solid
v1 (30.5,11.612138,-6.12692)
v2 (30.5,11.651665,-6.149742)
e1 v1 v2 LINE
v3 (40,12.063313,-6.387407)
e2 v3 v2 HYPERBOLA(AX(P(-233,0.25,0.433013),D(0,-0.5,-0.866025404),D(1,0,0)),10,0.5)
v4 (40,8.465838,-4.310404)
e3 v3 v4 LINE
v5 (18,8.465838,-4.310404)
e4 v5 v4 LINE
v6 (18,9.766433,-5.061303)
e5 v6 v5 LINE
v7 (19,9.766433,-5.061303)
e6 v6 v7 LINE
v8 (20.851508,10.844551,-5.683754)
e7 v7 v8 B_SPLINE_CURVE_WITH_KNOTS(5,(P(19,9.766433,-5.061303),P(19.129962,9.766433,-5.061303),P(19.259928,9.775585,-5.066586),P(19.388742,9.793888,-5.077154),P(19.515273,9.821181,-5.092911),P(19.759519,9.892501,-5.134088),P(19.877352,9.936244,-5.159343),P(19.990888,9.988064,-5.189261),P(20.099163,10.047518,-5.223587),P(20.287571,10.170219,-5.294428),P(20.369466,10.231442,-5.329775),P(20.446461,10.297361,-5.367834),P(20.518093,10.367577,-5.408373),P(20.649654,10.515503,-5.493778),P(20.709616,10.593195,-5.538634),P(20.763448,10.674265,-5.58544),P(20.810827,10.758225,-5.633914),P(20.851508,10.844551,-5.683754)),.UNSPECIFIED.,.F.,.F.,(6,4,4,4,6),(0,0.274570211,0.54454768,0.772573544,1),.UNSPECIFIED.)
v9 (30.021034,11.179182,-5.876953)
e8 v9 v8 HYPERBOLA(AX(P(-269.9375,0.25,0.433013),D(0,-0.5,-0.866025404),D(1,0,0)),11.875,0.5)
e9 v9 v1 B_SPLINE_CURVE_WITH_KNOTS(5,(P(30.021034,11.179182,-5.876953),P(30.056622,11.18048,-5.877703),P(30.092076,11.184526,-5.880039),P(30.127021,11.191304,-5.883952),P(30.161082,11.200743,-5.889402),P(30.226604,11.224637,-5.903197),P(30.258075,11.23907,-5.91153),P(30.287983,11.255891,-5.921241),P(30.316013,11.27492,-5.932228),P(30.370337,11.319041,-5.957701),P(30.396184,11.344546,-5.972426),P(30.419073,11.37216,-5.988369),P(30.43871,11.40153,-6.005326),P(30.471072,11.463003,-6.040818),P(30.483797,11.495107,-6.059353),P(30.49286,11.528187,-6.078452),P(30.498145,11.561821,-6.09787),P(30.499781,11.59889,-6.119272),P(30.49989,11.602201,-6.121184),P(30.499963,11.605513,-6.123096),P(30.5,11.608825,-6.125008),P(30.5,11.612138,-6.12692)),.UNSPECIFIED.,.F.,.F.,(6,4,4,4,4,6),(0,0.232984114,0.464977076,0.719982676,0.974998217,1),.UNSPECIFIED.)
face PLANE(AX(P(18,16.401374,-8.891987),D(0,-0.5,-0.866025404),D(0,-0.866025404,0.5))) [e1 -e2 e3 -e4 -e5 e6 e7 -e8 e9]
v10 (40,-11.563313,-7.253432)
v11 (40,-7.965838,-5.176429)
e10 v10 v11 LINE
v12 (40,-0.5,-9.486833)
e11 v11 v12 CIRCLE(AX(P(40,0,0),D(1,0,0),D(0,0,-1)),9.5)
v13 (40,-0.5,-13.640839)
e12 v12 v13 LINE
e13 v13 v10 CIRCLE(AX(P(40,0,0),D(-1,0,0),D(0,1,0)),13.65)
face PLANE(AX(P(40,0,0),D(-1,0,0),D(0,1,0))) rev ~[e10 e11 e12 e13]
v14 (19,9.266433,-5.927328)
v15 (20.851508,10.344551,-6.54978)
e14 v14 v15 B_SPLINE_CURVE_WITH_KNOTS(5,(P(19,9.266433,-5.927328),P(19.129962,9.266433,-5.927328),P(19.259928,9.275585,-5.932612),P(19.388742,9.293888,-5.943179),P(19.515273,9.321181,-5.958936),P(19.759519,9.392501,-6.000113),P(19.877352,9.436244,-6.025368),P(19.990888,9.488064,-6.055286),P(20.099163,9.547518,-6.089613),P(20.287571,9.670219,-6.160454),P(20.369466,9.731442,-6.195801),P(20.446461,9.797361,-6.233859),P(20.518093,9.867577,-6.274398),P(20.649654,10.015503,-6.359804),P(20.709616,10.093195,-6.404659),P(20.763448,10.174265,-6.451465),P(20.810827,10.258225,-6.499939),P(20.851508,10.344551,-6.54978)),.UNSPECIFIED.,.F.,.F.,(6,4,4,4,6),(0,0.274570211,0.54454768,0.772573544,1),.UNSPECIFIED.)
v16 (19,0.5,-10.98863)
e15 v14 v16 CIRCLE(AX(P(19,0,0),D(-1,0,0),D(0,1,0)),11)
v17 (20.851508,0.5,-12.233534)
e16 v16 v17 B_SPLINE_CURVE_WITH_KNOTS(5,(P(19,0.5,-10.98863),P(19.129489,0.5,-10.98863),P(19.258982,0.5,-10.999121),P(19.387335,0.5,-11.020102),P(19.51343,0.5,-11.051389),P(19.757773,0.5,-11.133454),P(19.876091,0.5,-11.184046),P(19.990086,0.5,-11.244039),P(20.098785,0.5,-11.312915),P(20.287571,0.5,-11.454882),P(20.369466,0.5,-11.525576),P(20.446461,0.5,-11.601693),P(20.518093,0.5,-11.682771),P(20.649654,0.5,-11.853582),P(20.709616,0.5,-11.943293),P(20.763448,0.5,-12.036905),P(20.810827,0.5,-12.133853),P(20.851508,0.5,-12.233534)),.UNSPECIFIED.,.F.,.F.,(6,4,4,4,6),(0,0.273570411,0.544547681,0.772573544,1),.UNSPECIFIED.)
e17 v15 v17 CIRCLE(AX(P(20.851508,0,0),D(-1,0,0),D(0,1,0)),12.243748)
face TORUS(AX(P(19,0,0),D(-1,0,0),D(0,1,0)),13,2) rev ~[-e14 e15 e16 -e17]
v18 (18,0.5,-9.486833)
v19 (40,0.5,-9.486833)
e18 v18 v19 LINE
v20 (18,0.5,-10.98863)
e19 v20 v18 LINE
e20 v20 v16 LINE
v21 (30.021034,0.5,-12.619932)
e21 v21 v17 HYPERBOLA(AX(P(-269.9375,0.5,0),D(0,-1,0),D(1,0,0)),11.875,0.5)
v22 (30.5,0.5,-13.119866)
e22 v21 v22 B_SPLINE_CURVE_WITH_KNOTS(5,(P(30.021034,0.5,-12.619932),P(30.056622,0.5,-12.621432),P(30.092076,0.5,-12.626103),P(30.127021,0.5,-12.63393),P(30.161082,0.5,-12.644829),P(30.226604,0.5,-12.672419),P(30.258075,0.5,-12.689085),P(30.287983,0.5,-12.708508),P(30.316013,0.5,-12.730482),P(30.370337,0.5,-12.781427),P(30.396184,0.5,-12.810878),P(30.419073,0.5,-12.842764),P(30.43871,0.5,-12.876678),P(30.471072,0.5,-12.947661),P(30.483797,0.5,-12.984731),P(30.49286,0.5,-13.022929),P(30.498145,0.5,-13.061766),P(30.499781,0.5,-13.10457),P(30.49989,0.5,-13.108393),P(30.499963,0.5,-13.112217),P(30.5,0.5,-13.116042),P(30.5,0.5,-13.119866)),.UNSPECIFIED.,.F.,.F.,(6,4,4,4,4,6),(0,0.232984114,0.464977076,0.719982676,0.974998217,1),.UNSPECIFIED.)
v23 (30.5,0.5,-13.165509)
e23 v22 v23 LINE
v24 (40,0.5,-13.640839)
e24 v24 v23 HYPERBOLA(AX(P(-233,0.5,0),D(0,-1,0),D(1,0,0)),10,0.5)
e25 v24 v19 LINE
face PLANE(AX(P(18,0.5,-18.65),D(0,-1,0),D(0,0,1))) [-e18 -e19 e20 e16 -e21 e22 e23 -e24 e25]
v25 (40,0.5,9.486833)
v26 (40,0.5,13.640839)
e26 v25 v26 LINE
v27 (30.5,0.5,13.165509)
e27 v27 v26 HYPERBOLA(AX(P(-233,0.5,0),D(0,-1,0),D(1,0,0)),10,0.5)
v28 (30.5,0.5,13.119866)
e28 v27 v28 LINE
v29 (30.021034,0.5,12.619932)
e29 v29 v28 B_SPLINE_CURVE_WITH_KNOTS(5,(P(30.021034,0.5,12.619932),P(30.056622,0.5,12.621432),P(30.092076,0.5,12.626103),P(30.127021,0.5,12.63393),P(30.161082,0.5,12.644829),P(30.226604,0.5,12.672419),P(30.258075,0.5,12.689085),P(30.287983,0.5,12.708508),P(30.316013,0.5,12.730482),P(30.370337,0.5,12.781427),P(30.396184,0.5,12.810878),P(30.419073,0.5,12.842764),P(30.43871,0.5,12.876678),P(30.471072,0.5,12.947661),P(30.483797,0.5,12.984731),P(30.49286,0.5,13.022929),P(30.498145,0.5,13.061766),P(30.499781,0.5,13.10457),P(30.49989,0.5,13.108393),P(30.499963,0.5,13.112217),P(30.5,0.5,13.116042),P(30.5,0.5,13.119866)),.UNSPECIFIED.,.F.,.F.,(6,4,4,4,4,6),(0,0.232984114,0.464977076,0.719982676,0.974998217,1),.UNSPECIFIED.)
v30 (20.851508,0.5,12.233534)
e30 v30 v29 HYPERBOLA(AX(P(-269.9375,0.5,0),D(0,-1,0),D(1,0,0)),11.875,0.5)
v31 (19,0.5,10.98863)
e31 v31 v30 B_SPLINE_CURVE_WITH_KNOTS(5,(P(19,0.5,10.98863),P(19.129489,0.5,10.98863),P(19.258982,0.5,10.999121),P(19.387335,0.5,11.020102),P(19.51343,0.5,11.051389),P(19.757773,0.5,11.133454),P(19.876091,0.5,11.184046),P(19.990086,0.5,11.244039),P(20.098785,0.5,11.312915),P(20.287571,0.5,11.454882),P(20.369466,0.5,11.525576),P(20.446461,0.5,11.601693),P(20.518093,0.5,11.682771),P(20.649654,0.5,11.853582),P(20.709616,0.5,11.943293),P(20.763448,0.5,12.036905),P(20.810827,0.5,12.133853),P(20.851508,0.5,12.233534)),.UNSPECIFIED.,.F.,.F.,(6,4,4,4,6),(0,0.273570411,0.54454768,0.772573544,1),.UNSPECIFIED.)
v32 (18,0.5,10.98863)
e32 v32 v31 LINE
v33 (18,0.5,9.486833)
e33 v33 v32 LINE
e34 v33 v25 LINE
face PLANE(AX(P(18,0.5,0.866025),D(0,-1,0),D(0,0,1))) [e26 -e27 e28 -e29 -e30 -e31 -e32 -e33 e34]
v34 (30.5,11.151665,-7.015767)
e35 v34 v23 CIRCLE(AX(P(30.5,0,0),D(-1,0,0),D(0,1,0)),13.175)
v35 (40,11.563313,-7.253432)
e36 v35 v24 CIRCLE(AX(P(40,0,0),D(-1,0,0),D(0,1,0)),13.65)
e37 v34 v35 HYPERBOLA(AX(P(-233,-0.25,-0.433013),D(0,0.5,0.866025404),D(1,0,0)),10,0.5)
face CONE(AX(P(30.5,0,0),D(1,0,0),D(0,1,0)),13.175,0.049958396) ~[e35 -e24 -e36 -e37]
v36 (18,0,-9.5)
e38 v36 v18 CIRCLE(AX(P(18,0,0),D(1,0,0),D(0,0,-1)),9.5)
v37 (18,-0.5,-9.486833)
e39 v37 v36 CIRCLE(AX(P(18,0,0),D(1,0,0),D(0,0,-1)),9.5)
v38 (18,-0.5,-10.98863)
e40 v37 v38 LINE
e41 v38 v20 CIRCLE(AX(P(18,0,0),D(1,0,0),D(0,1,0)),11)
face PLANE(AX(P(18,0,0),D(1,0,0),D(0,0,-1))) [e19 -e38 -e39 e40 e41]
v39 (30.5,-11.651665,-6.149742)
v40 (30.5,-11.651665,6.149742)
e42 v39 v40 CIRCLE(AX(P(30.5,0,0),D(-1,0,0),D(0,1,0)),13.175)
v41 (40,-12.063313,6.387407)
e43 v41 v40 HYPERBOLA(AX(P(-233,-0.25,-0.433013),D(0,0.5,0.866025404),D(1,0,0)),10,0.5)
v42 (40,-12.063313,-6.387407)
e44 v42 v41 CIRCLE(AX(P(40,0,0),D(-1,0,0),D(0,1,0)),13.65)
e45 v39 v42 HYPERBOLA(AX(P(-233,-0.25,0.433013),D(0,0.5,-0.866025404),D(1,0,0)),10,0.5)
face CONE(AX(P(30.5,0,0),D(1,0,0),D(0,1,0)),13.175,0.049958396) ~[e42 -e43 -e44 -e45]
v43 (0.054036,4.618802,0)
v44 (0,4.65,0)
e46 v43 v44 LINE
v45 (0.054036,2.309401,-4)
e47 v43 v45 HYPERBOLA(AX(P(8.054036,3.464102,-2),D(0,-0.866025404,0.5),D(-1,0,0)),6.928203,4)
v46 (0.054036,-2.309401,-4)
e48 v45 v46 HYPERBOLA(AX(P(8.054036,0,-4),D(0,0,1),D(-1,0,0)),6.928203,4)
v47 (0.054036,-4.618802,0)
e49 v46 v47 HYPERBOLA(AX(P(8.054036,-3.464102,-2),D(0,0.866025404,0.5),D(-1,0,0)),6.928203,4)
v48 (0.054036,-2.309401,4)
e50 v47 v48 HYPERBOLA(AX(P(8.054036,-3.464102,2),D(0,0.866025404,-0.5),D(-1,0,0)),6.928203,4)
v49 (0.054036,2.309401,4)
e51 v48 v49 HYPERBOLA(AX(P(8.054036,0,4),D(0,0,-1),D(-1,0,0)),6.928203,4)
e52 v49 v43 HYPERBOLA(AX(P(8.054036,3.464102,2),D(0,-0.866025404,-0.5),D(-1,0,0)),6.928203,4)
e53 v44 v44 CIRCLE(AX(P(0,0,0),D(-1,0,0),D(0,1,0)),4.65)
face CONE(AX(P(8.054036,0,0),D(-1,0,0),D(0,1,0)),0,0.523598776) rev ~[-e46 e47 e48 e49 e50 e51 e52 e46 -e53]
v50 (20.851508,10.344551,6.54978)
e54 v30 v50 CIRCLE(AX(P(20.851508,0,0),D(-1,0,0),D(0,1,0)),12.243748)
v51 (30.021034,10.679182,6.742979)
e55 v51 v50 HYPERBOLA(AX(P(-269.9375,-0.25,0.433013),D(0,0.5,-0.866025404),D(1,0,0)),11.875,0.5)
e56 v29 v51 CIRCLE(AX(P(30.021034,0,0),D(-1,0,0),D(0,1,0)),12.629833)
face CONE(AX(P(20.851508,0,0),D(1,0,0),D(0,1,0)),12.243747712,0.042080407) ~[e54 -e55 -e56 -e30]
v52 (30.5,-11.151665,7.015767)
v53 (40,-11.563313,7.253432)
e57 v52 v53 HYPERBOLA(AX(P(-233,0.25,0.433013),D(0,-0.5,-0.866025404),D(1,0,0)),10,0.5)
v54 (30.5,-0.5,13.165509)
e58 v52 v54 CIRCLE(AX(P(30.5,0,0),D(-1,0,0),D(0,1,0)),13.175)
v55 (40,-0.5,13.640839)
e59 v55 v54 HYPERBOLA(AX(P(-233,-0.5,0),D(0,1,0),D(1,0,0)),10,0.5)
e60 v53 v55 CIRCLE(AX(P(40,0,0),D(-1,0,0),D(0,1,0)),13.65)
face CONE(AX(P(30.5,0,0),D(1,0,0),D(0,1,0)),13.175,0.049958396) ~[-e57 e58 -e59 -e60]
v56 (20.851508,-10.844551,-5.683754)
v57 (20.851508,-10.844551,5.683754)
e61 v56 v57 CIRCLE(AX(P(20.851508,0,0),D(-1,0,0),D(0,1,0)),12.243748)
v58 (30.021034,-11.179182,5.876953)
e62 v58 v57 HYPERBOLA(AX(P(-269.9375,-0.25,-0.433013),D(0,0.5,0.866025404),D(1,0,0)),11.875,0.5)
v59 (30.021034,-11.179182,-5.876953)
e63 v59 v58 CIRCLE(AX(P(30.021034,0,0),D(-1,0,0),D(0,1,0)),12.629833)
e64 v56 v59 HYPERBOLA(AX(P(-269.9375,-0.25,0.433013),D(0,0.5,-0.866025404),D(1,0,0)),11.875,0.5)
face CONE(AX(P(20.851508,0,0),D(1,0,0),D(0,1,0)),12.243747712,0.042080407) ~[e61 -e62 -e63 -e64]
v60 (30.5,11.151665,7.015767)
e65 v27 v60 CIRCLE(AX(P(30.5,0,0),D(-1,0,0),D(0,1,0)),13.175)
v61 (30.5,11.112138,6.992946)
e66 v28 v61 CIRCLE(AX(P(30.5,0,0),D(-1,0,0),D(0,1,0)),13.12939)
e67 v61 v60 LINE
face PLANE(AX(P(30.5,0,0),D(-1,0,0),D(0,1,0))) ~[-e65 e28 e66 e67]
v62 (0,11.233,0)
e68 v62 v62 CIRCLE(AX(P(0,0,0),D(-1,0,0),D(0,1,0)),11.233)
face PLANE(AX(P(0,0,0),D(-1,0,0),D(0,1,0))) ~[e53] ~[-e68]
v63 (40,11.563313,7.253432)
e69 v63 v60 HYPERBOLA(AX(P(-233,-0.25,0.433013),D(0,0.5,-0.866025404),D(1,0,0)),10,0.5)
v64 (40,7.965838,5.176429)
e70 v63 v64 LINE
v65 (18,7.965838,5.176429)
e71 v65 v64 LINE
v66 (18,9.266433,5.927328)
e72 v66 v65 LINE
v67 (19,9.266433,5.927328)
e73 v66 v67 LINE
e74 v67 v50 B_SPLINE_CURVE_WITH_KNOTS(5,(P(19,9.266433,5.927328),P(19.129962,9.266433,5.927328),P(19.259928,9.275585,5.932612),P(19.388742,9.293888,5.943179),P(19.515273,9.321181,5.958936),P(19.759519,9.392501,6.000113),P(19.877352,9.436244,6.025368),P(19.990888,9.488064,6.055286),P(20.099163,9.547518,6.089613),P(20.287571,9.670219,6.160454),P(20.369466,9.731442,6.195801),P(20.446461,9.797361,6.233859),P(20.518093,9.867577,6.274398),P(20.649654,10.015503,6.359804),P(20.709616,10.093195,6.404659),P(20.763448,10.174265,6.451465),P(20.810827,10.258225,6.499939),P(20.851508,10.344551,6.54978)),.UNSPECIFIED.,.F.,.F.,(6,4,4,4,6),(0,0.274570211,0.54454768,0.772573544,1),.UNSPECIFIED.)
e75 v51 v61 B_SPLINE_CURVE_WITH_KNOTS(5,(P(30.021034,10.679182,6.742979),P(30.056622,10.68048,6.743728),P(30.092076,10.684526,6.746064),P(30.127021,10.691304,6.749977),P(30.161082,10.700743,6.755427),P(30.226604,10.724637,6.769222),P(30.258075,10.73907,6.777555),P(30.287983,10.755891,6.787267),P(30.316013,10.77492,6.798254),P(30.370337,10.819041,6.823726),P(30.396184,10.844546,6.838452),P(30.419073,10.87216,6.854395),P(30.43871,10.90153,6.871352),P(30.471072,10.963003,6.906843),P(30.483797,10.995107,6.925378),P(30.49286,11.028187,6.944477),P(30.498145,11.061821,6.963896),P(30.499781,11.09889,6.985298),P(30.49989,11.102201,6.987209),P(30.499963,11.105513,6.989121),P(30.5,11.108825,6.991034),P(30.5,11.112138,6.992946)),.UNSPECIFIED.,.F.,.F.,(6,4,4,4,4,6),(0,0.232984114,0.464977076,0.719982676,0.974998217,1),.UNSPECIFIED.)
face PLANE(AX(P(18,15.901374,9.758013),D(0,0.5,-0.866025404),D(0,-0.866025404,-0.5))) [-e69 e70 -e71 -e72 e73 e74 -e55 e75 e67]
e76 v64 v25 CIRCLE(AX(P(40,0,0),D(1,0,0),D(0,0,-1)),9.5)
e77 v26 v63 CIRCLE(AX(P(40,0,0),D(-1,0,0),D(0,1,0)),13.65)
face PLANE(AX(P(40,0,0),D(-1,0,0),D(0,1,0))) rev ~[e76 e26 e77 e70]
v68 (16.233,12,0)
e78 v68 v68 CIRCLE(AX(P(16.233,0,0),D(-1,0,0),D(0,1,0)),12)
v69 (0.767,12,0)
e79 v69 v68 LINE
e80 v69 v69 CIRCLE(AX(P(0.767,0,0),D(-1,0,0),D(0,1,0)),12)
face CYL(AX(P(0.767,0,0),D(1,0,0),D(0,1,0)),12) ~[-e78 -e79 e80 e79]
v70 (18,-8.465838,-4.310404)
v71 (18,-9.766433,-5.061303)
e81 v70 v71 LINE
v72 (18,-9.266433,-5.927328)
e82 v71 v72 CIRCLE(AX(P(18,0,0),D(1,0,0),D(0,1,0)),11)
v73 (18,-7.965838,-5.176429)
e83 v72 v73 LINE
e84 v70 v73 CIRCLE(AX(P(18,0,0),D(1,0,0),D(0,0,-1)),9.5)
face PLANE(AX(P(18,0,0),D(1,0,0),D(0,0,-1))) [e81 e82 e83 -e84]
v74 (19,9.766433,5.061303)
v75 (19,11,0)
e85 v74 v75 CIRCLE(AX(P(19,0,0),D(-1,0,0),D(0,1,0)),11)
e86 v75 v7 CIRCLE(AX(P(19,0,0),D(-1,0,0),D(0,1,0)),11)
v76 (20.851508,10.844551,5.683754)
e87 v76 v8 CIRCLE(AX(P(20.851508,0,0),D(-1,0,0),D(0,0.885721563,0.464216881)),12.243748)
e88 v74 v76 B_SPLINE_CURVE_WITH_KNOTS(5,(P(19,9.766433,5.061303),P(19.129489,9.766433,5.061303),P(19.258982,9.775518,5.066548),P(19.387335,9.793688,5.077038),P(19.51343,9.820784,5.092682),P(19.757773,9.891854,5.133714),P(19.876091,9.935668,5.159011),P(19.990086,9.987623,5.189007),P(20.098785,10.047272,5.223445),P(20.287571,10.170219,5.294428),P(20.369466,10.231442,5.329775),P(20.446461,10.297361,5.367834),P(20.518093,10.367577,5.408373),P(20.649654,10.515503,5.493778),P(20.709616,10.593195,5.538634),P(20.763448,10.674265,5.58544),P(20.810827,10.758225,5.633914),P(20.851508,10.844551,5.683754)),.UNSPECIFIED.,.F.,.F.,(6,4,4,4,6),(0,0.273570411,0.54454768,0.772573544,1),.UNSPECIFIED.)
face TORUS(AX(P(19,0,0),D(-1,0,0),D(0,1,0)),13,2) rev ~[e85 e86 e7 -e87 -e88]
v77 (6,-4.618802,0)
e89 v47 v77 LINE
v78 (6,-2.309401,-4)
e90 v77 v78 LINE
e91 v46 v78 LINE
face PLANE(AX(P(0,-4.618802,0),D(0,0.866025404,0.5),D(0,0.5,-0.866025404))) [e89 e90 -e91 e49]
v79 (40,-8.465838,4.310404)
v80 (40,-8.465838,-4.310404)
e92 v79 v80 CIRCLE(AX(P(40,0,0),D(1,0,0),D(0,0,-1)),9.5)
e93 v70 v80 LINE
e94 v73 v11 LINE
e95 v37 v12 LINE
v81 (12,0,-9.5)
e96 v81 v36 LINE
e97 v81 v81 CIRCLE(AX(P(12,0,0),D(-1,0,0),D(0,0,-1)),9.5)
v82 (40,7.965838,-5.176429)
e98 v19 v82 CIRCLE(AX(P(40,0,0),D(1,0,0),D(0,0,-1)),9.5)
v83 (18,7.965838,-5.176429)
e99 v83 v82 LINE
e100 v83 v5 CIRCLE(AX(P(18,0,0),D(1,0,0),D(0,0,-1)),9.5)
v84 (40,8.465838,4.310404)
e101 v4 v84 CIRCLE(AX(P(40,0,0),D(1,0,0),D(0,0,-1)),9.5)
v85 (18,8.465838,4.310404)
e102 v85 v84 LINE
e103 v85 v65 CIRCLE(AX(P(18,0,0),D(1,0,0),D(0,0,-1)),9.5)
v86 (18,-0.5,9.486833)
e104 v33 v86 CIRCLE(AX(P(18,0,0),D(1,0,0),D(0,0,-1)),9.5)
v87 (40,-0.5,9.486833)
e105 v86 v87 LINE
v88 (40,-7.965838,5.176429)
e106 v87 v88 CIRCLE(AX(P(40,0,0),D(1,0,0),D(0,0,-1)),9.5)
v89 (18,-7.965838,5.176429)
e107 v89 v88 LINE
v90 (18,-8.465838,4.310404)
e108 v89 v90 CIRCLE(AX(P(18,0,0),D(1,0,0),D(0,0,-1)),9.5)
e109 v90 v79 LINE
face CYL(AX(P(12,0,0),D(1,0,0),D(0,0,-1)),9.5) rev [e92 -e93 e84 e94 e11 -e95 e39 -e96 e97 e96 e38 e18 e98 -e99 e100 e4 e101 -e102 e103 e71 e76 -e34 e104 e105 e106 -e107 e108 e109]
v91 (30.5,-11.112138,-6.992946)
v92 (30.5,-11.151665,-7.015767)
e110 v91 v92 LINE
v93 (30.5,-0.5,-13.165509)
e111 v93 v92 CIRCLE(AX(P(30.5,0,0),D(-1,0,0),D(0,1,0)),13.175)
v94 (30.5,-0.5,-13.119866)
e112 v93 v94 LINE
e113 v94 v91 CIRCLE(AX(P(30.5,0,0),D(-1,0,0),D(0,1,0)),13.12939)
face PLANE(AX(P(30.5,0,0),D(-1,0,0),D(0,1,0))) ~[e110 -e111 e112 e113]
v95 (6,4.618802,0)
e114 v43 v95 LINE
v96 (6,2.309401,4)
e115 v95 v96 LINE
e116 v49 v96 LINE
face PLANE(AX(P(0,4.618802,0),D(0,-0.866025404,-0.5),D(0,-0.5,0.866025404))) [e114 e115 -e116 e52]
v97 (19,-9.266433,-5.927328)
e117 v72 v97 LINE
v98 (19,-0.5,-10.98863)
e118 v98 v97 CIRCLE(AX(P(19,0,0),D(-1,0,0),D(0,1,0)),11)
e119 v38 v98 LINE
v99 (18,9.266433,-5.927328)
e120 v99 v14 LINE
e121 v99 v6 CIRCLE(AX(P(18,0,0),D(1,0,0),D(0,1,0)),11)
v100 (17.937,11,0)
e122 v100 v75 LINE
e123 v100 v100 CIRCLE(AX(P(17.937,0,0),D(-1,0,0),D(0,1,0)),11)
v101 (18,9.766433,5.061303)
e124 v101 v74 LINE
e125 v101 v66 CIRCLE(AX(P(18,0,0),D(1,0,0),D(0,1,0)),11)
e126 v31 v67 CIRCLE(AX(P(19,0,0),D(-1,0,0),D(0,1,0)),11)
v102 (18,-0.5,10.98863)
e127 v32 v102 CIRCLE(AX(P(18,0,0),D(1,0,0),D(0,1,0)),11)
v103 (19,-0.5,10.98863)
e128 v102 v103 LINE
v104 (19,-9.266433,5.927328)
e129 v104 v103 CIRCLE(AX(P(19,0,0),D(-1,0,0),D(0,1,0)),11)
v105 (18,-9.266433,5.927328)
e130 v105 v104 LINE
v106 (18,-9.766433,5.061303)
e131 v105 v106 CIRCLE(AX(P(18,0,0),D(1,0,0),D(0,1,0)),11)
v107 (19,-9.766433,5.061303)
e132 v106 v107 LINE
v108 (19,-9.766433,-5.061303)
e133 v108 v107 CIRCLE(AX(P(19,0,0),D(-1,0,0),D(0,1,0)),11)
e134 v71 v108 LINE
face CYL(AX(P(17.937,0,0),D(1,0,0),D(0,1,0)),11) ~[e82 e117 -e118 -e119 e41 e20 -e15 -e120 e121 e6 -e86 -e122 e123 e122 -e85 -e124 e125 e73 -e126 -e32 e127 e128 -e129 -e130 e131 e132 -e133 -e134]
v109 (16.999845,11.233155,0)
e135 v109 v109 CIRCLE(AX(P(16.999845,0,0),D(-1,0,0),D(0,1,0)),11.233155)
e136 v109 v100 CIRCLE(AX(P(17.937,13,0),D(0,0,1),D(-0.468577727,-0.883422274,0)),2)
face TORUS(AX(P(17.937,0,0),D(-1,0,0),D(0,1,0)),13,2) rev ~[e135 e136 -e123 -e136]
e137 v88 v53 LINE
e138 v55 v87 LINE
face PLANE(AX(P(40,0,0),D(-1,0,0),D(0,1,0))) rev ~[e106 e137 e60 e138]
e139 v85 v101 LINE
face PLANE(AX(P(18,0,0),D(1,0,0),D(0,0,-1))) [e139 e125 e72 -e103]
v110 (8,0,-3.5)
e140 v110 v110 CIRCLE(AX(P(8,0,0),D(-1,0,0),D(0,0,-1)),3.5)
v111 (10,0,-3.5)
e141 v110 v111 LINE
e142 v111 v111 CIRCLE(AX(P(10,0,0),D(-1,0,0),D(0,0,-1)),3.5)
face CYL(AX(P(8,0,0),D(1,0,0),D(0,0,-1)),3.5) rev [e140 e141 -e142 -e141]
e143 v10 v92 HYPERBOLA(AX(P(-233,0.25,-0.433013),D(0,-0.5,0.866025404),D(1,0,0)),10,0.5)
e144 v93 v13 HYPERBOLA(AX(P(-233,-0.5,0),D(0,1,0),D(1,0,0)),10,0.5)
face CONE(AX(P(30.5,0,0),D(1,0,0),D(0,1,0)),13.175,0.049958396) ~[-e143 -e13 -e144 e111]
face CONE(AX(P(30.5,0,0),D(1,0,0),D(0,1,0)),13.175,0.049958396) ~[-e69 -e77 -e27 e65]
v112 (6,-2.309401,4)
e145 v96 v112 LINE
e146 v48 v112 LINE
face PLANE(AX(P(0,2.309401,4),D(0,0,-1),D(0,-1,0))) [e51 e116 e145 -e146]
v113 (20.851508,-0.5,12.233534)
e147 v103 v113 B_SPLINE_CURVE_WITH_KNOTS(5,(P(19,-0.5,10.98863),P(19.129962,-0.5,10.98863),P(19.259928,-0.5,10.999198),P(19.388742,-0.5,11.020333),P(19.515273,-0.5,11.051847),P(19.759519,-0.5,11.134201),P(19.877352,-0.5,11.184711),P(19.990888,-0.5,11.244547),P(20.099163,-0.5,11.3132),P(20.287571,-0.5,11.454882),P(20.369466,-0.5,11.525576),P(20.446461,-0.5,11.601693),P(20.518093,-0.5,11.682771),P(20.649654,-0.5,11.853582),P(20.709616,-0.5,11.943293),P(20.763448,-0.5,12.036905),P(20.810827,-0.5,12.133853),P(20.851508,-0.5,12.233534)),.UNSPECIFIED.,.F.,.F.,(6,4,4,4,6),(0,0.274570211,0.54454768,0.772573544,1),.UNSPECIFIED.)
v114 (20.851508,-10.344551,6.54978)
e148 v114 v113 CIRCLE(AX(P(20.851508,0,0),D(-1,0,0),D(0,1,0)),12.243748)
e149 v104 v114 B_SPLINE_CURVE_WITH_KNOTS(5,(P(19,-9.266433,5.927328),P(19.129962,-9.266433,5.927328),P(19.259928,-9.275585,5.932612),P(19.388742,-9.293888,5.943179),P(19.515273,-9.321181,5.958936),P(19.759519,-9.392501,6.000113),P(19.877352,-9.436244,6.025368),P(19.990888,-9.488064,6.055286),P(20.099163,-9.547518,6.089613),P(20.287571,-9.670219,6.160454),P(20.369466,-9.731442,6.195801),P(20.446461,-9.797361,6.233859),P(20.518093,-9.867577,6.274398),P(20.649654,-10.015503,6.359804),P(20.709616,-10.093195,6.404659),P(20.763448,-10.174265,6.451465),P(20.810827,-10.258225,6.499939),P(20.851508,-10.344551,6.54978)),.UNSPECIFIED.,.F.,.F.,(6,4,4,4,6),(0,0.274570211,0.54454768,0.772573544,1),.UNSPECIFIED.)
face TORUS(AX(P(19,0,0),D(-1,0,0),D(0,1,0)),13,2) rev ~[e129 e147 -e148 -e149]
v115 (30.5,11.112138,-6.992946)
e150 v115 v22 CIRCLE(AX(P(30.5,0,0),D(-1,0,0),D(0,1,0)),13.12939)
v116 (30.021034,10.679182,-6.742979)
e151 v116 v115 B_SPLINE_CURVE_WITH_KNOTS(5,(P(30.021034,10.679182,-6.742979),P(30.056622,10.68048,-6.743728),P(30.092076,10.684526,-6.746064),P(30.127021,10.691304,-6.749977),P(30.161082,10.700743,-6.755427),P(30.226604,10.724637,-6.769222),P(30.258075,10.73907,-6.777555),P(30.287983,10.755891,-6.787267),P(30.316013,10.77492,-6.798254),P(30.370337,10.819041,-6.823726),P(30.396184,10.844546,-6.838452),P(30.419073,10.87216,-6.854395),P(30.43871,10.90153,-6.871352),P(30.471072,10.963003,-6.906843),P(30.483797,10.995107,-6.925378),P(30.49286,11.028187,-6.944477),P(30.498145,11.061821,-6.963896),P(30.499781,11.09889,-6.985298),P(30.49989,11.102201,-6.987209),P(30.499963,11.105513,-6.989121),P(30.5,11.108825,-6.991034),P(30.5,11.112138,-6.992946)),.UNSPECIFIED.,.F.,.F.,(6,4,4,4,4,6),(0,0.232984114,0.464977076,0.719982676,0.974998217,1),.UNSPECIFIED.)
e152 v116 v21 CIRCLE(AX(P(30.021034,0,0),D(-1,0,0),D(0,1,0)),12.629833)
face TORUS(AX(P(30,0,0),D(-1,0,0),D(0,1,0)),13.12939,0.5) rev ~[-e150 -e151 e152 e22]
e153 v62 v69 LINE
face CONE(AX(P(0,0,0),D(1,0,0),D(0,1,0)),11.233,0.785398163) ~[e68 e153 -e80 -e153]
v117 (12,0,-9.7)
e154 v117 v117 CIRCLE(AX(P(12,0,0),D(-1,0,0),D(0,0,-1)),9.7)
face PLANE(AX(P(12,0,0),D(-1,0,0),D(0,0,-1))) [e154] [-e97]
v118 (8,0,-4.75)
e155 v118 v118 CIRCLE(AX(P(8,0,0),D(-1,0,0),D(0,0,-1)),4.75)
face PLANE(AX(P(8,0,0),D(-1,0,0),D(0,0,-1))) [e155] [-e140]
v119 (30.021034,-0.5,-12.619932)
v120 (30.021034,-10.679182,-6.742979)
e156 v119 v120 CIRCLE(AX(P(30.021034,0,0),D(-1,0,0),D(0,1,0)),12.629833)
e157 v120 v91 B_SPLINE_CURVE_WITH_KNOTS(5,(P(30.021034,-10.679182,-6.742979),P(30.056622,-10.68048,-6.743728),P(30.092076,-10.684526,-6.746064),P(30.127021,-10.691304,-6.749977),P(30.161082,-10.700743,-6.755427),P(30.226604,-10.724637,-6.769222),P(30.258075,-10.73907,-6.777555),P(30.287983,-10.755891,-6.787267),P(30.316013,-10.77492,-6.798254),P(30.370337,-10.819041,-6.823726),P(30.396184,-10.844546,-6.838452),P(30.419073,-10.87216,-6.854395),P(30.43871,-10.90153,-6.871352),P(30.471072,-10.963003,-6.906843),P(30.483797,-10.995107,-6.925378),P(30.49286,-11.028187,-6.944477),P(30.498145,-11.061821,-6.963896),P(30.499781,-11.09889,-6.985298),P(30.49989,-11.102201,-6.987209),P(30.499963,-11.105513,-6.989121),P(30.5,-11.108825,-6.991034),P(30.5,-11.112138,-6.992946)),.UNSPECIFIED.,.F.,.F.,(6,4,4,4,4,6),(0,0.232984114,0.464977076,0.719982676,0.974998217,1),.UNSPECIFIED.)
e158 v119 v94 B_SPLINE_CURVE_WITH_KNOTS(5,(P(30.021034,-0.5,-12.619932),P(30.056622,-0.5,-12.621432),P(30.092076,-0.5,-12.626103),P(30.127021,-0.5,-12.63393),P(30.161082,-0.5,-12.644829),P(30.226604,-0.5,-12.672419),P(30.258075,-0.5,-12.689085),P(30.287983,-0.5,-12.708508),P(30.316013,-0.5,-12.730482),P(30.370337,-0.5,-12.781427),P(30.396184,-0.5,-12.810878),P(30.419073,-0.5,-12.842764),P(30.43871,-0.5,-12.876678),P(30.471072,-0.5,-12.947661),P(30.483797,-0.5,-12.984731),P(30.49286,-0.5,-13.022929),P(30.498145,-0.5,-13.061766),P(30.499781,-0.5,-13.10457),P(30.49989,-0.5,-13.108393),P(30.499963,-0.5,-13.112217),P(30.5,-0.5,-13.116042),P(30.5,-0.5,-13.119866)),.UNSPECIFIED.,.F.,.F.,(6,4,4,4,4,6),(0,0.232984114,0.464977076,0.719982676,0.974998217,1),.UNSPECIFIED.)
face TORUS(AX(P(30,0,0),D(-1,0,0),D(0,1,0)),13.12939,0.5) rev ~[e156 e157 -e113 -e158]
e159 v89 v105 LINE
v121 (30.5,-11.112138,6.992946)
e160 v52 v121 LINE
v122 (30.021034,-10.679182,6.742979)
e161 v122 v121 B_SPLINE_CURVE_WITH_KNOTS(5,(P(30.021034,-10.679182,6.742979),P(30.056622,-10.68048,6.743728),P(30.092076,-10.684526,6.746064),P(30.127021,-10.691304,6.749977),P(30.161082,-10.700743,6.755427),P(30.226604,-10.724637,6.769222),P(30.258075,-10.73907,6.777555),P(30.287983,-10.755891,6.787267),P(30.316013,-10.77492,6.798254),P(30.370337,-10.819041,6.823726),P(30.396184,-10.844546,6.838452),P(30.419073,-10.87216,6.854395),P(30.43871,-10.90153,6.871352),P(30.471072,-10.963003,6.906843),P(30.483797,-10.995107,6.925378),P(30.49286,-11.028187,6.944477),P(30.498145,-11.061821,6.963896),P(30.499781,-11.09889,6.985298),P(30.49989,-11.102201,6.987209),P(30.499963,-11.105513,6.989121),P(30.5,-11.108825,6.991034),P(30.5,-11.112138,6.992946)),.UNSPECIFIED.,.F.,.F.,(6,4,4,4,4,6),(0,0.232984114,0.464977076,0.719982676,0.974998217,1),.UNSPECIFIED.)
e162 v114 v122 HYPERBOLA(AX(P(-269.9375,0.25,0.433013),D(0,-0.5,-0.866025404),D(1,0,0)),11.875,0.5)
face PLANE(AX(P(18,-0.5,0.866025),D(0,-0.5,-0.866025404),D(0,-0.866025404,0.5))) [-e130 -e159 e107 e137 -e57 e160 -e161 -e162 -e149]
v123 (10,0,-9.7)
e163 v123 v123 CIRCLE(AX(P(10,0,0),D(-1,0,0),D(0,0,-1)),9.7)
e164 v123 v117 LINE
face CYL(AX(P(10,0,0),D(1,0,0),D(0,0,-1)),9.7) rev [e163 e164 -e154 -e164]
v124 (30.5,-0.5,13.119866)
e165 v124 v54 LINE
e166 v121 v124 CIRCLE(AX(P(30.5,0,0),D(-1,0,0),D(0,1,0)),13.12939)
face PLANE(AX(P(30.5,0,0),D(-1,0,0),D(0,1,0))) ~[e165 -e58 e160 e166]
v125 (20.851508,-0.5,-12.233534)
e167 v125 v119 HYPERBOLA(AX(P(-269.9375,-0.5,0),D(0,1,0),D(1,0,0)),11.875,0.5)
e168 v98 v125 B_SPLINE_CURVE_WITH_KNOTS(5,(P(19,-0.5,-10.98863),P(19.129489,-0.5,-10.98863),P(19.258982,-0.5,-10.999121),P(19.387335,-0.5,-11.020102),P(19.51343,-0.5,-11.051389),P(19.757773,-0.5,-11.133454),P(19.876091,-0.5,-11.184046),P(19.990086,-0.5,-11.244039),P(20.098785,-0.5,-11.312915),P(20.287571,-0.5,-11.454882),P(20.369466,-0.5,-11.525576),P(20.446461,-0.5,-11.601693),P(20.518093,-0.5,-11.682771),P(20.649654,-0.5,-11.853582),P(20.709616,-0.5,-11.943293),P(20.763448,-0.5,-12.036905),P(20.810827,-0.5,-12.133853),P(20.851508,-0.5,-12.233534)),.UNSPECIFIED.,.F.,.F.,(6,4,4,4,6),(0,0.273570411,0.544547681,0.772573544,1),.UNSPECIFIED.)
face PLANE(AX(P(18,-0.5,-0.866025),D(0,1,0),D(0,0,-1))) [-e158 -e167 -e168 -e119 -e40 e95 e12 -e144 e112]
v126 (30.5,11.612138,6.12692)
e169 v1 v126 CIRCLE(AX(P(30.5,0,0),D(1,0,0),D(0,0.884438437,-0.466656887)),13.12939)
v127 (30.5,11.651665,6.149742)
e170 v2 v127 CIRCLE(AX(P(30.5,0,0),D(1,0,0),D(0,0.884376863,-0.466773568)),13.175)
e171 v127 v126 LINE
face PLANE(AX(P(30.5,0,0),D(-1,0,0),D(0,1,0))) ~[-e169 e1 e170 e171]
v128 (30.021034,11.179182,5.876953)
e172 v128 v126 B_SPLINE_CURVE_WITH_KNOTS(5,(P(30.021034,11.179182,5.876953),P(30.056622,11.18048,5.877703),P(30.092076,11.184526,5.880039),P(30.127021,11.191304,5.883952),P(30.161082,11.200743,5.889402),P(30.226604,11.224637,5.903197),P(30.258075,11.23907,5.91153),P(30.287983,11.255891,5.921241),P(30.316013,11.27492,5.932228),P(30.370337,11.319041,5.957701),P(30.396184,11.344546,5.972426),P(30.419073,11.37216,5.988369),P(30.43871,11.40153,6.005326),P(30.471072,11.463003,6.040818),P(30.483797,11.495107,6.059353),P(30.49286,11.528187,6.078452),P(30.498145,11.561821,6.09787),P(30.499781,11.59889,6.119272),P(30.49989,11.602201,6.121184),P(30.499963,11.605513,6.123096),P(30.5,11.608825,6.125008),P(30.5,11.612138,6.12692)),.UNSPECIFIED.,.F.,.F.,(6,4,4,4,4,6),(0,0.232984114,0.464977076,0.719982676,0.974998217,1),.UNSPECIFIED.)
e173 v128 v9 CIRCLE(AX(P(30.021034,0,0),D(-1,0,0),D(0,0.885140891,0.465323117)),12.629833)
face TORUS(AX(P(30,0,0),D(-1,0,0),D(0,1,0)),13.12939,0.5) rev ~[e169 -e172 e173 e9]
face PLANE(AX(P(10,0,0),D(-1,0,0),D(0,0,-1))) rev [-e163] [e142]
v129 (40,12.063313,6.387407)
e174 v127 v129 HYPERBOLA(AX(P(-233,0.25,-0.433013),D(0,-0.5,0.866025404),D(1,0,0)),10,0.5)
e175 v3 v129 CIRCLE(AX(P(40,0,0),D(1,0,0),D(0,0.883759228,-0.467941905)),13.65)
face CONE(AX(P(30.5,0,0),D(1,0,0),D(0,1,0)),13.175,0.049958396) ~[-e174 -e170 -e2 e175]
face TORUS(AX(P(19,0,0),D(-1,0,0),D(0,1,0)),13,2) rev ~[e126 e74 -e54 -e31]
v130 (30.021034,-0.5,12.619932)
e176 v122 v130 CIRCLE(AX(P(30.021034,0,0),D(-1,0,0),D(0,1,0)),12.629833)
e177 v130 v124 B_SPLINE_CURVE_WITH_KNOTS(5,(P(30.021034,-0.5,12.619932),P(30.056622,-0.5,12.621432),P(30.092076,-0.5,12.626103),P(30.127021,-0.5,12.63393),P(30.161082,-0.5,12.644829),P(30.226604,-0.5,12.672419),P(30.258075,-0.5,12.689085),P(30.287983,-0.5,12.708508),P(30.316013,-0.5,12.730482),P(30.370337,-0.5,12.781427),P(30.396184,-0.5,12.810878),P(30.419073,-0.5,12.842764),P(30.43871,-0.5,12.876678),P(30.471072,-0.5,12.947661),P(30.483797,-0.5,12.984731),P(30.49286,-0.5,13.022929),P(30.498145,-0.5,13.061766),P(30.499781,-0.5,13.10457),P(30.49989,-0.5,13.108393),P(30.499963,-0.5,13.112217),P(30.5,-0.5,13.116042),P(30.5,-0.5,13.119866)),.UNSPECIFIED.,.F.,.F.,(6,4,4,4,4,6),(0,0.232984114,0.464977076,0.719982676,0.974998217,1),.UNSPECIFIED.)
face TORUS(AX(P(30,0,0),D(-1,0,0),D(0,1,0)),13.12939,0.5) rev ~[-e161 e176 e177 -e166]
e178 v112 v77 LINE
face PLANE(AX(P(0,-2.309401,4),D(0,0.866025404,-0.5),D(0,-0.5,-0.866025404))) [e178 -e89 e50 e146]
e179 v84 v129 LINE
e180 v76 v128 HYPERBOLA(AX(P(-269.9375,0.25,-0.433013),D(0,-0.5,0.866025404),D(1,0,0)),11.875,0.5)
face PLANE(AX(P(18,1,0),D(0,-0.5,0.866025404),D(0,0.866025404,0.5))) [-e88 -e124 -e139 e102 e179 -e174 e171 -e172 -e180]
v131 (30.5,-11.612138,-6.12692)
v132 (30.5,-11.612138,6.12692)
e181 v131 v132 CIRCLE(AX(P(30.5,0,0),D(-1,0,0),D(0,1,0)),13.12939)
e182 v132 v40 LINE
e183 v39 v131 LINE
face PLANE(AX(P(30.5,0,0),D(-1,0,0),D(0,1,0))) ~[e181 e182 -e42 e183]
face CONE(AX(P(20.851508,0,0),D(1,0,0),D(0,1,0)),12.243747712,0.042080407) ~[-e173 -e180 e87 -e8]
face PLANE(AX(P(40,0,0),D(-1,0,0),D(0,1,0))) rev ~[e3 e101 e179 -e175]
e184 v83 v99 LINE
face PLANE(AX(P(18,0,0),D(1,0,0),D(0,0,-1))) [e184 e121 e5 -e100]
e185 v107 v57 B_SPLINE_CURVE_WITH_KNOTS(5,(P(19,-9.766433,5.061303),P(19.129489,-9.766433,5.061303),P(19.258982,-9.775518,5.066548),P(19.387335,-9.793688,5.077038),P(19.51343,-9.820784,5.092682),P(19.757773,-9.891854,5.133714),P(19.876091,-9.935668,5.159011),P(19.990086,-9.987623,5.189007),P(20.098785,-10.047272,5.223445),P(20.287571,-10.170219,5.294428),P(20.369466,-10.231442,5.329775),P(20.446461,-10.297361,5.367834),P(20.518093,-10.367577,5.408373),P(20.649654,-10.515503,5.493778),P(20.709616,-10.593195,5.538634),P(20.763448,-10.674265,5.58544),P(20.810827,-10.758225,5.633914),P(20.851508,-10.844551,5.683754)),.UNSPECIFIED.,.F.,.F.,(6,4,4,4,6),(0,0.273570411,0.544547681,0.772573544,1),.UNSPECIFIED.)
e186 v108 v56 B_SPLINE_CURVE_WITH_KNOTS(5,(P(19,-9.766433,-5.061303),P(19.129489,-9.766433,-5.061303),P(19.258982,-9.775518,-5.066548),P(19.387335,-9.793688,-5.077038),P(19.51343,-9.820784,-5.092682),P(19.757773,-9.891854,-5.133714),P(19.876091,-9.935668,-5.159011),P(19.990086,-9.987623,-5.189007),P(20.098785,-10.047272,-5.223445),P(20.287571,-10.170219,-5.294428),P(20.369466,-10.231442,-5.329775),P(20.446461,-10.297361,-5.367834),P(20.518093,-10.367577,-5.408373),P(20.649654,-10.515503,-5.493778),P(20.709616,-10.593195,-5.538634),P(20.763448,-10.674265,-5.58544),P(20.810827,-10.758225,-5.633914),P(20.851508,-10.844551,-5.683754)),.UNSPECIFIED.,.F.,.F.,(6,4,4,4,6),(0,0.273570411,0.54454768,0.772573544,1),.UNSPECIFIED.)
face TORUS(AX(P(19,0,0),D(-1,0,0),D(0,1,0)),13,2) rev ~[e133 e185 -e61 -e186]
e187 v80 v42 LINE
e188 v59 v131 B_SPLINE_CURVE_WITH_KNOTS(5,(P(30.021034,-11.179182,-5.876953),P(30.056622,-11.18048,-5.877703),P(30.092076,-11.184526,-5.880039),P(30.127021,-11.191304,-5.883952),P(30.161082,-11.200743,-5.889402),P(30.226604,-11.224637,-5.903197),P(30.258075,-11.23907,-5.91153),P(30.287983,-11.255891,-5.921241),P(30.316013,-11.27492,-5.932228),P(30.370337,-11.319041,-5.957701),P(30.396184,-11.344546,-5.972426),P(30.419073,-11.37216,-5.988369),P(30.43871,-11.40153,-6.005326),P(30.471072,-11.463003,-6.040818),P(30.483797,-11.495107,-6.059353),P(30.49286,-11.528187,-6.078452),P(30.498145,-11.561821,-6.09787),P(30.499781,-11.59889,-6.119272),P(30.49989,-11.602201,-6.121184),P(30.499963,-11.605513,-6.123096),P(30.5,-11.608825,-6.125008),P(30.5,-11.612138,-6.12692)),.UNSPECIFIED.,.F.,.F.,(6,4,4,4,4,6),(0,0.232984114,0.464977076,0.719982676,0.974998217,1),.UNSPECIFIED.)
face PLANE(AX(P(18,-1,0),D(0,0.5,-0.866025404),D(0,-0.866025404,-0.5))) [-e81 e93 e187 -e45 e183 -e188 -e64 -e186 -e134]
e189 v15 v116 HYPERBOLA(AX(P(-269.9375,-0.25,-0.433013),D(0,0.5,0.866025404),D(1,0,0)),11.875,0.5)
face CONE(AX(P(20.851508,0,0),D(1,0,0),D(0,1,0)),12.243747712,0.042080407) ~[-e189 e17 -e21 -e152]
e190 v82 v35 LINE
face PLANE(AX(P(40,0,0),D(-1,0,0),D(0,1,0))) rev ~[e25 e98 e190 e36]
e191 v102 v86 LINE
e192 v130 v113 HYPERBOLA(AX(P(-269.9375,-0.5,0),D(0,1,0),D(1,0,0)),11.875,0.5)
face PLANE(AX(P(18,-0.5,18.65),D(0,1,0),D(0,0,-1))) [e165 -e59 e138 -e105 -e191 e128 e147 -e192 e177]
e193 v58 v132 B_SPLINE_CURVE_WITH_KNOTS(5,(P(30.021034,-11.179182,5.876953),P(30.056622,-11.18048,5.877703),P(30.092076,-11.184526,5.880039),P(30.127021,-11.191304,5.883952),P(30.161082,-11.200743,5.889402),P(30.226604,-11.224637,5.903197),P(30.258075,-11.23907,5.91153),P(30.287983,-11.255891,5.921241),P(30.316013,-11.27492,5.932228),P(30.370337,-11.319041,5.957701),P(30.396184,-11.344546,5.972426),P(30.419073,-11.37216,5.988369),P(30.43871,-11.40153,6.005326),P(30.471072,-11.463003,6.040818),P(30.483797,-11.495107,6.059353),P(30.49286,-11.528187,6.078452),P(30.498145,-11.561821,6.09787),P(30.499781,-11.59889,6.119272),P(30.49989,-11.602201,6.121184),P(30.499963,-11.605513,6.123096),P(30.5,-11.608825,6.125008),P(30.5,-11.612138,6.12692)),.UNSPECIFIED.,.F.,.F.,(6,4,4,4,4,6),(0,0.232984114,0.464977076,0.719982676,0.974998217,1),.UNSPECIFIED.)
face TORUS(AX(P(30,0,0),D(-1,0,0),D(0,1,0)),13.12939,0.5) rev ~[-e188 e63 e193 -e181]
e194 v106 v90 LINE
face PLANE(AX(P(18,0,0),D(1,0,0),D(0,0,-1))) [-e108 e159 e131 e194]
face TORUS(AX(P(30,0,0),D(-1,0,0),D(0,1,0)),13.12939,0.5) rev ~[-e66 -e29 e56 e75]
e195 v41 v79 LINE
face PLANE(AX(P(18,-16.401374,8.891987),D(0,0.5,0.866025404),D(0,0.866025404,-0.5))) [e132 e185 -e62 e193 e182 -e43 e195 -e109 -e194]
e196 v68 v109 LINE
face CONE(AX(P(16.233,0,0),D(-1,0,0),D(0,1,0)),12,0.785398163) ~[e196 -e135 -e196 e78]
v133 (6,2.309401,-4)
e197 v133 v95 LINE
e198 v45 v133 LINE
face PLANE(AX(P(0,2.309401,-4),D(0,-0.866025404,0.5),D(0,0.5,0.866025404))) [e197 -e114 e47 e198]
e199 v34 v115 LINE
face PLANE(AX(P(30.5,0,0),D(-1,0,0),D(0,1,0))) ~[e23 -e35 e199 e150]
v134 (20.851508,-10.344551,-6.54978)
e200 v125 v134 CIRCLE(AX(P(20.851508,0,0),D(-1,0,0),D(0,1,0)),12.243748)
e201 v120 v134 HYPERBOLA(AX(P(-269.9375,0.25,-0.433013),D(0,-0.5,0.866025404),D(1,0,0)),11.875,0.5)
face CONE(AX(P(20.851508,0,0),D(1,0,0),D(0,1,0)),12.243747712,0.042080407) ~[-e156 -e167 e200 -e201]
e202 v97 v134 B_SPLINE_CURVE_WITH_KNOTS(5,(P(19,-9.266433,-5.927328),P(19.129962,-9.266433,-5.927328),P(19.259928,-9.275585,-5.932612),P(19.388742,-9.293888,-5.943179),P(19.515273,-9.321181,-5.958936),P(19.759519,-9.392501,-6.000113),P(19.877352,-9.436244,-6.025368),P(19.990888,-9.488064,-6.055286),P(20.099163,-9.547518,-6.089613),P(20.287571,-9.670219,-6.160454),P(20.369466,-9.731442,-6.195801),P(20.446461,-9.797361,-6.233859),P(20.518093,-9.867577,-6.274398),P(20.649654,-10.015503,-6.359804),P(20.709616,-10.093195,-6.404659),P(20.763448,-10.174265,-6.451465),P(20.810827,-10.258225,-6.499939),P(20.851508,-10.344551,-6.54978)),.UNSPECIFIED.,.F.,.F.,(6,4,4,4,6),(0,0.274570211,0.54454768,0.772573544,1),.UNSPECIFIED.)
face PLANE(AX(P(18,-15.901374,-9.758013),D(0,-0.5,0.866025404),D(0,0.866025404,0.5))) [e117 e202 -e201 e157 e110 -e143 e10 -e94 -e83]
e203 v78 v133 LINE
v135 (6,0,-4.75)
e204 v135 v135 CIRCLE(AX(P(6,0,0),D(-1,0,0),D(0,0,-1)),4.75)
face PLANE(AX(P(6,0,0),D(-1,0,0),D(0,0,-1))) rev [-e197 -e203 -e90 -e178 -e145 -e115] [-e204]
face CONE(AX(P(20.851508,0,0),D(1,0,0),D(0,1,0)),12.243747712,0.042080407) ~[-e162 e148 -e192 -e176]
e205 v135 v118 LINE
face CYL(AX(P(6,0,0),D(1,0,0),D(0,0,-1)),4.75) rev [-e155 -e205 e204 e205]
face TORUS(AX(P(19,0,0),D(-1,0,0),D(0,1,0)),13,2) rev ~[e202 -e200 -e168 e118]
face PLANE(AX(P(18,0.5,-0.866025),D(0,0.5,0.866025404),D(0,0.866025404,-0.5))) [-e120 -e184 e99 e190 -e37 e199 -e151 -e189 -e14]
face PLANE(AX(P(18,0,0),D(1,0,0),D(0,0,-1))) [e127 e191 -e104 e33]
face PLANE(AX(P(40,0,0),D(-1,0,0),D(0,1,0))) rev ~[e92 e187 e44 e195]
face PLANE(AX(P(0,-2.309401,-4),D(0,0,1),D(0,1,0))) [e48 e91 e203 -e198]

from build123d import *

# Parameters (mm, degrees)
CUT_EXTRUDE1_DEPTH = 6
CUT_EXTRUDE2_DEPTH = 40


with BuildPart() as part:
    # Sketch1 → Revolve1 (revolve)
    with BuildSketch(Plane.XY):
        with BuildLine():
            Line((8.054036255, 0), (0, 4.65))
            Line((0, 4.65), (0, 11.233))
            Line((0, 11.233), (0.767, 12))
            Line((0.767, 12), (16.233, 12))
            Line((16.233, 12), (16.999844549, 11.233155451))
            ThreePointArc((16.999844549, 11.233155451), (17.454138269, 11.059163956), (17.937, 11))
            Line((17.937, 11), (19, 11))
            ThreePointArc((19, 11), (20.115234375, 11.339803539), (20.851508163, 12.243747712))
            Line((20.851508163, 12.243747712), (30.021033995, 12.62983301))
            ThreePointArc((30.021033995, 12.62983301), (30.360913423, 12.783353536), (30.5, 13.129390385))
            Line((30.5, 13.129390385), (30.5, 13.175))
            Line((30.5, 13.175), (40, 13.65))
            Line((40, 13.65), (40, 0))
            Line((40, 0), (8.054036255, 0))
        make_face()
    revolve(axis=Axis((40, 0, 0), (-1, 0, 0)))

    # Sketch2 → Cut-Extrude1 (cut)
    with BuildSketch(Plane(origin=(0, 0, 0), x_dir=(0, 0, -1), z_dir=(1, 0, 0))):
        Polygon((-4, -2.309401077), (0, -4.618802154), (4, -2.309401077), (4, 2.309401077), (0, 4.618802154), (-4, 2.309401077), align=None)
    extrude(amount=CUT_EXTRUDE1_DEPTH, mode=Mode.SUBTRACT)

    # Sketch3 → Cut-Revolve1 (revolve, cut)
    with BuildSketch(Plane(origin=(0, 0, 0), x_dir=(1, 0, 0), z_dir=(0, 1, 0))):
        Polygon((6, 0), (6, 4.75), (8, 4.75), (8, 3.5), (10, 3.5), (10, 9.7), (12, 9.7), (12, 9.5), (42, 9.5), (42, 0), align=None)
    revolve(axis=Axis((42, 0, 0), (-1, 0, 0)), mode=Mode.SUBTRACT)

    # Sketch4 → Cut-Extrude2 (cut)
    with BuildSketch(Plane(origin=(18, 0, 0), x_dir=(0, 0, -1), z_dir=(1, 0, 0))):
        Polygon((-18.65, 0.5), (-18.65, -0.5), (-0.866025404, -0.5), (-9.758012702, -15.901373781), (-8.891987298, -16.401373781), (0, -1), (8.891987298, -16.401373781), (9.758012702, -15.901373781), (0.866025404, -0.5), (18.65, -0.5), (18.65, 0.5), (0.866025404, 0.5), (9.758012702, 15.901373781), (8.891987298, 16.401373781), (0, 1), (-8.891987298, 16.401373781), (-9.758012702, 15.901373781), (-0.866025404, 0.5), align=None)
    extrude(amount=CUT_EXTRUDE2_DEPTH, mode=Mode.SUBTRACT)


solid = part.part
